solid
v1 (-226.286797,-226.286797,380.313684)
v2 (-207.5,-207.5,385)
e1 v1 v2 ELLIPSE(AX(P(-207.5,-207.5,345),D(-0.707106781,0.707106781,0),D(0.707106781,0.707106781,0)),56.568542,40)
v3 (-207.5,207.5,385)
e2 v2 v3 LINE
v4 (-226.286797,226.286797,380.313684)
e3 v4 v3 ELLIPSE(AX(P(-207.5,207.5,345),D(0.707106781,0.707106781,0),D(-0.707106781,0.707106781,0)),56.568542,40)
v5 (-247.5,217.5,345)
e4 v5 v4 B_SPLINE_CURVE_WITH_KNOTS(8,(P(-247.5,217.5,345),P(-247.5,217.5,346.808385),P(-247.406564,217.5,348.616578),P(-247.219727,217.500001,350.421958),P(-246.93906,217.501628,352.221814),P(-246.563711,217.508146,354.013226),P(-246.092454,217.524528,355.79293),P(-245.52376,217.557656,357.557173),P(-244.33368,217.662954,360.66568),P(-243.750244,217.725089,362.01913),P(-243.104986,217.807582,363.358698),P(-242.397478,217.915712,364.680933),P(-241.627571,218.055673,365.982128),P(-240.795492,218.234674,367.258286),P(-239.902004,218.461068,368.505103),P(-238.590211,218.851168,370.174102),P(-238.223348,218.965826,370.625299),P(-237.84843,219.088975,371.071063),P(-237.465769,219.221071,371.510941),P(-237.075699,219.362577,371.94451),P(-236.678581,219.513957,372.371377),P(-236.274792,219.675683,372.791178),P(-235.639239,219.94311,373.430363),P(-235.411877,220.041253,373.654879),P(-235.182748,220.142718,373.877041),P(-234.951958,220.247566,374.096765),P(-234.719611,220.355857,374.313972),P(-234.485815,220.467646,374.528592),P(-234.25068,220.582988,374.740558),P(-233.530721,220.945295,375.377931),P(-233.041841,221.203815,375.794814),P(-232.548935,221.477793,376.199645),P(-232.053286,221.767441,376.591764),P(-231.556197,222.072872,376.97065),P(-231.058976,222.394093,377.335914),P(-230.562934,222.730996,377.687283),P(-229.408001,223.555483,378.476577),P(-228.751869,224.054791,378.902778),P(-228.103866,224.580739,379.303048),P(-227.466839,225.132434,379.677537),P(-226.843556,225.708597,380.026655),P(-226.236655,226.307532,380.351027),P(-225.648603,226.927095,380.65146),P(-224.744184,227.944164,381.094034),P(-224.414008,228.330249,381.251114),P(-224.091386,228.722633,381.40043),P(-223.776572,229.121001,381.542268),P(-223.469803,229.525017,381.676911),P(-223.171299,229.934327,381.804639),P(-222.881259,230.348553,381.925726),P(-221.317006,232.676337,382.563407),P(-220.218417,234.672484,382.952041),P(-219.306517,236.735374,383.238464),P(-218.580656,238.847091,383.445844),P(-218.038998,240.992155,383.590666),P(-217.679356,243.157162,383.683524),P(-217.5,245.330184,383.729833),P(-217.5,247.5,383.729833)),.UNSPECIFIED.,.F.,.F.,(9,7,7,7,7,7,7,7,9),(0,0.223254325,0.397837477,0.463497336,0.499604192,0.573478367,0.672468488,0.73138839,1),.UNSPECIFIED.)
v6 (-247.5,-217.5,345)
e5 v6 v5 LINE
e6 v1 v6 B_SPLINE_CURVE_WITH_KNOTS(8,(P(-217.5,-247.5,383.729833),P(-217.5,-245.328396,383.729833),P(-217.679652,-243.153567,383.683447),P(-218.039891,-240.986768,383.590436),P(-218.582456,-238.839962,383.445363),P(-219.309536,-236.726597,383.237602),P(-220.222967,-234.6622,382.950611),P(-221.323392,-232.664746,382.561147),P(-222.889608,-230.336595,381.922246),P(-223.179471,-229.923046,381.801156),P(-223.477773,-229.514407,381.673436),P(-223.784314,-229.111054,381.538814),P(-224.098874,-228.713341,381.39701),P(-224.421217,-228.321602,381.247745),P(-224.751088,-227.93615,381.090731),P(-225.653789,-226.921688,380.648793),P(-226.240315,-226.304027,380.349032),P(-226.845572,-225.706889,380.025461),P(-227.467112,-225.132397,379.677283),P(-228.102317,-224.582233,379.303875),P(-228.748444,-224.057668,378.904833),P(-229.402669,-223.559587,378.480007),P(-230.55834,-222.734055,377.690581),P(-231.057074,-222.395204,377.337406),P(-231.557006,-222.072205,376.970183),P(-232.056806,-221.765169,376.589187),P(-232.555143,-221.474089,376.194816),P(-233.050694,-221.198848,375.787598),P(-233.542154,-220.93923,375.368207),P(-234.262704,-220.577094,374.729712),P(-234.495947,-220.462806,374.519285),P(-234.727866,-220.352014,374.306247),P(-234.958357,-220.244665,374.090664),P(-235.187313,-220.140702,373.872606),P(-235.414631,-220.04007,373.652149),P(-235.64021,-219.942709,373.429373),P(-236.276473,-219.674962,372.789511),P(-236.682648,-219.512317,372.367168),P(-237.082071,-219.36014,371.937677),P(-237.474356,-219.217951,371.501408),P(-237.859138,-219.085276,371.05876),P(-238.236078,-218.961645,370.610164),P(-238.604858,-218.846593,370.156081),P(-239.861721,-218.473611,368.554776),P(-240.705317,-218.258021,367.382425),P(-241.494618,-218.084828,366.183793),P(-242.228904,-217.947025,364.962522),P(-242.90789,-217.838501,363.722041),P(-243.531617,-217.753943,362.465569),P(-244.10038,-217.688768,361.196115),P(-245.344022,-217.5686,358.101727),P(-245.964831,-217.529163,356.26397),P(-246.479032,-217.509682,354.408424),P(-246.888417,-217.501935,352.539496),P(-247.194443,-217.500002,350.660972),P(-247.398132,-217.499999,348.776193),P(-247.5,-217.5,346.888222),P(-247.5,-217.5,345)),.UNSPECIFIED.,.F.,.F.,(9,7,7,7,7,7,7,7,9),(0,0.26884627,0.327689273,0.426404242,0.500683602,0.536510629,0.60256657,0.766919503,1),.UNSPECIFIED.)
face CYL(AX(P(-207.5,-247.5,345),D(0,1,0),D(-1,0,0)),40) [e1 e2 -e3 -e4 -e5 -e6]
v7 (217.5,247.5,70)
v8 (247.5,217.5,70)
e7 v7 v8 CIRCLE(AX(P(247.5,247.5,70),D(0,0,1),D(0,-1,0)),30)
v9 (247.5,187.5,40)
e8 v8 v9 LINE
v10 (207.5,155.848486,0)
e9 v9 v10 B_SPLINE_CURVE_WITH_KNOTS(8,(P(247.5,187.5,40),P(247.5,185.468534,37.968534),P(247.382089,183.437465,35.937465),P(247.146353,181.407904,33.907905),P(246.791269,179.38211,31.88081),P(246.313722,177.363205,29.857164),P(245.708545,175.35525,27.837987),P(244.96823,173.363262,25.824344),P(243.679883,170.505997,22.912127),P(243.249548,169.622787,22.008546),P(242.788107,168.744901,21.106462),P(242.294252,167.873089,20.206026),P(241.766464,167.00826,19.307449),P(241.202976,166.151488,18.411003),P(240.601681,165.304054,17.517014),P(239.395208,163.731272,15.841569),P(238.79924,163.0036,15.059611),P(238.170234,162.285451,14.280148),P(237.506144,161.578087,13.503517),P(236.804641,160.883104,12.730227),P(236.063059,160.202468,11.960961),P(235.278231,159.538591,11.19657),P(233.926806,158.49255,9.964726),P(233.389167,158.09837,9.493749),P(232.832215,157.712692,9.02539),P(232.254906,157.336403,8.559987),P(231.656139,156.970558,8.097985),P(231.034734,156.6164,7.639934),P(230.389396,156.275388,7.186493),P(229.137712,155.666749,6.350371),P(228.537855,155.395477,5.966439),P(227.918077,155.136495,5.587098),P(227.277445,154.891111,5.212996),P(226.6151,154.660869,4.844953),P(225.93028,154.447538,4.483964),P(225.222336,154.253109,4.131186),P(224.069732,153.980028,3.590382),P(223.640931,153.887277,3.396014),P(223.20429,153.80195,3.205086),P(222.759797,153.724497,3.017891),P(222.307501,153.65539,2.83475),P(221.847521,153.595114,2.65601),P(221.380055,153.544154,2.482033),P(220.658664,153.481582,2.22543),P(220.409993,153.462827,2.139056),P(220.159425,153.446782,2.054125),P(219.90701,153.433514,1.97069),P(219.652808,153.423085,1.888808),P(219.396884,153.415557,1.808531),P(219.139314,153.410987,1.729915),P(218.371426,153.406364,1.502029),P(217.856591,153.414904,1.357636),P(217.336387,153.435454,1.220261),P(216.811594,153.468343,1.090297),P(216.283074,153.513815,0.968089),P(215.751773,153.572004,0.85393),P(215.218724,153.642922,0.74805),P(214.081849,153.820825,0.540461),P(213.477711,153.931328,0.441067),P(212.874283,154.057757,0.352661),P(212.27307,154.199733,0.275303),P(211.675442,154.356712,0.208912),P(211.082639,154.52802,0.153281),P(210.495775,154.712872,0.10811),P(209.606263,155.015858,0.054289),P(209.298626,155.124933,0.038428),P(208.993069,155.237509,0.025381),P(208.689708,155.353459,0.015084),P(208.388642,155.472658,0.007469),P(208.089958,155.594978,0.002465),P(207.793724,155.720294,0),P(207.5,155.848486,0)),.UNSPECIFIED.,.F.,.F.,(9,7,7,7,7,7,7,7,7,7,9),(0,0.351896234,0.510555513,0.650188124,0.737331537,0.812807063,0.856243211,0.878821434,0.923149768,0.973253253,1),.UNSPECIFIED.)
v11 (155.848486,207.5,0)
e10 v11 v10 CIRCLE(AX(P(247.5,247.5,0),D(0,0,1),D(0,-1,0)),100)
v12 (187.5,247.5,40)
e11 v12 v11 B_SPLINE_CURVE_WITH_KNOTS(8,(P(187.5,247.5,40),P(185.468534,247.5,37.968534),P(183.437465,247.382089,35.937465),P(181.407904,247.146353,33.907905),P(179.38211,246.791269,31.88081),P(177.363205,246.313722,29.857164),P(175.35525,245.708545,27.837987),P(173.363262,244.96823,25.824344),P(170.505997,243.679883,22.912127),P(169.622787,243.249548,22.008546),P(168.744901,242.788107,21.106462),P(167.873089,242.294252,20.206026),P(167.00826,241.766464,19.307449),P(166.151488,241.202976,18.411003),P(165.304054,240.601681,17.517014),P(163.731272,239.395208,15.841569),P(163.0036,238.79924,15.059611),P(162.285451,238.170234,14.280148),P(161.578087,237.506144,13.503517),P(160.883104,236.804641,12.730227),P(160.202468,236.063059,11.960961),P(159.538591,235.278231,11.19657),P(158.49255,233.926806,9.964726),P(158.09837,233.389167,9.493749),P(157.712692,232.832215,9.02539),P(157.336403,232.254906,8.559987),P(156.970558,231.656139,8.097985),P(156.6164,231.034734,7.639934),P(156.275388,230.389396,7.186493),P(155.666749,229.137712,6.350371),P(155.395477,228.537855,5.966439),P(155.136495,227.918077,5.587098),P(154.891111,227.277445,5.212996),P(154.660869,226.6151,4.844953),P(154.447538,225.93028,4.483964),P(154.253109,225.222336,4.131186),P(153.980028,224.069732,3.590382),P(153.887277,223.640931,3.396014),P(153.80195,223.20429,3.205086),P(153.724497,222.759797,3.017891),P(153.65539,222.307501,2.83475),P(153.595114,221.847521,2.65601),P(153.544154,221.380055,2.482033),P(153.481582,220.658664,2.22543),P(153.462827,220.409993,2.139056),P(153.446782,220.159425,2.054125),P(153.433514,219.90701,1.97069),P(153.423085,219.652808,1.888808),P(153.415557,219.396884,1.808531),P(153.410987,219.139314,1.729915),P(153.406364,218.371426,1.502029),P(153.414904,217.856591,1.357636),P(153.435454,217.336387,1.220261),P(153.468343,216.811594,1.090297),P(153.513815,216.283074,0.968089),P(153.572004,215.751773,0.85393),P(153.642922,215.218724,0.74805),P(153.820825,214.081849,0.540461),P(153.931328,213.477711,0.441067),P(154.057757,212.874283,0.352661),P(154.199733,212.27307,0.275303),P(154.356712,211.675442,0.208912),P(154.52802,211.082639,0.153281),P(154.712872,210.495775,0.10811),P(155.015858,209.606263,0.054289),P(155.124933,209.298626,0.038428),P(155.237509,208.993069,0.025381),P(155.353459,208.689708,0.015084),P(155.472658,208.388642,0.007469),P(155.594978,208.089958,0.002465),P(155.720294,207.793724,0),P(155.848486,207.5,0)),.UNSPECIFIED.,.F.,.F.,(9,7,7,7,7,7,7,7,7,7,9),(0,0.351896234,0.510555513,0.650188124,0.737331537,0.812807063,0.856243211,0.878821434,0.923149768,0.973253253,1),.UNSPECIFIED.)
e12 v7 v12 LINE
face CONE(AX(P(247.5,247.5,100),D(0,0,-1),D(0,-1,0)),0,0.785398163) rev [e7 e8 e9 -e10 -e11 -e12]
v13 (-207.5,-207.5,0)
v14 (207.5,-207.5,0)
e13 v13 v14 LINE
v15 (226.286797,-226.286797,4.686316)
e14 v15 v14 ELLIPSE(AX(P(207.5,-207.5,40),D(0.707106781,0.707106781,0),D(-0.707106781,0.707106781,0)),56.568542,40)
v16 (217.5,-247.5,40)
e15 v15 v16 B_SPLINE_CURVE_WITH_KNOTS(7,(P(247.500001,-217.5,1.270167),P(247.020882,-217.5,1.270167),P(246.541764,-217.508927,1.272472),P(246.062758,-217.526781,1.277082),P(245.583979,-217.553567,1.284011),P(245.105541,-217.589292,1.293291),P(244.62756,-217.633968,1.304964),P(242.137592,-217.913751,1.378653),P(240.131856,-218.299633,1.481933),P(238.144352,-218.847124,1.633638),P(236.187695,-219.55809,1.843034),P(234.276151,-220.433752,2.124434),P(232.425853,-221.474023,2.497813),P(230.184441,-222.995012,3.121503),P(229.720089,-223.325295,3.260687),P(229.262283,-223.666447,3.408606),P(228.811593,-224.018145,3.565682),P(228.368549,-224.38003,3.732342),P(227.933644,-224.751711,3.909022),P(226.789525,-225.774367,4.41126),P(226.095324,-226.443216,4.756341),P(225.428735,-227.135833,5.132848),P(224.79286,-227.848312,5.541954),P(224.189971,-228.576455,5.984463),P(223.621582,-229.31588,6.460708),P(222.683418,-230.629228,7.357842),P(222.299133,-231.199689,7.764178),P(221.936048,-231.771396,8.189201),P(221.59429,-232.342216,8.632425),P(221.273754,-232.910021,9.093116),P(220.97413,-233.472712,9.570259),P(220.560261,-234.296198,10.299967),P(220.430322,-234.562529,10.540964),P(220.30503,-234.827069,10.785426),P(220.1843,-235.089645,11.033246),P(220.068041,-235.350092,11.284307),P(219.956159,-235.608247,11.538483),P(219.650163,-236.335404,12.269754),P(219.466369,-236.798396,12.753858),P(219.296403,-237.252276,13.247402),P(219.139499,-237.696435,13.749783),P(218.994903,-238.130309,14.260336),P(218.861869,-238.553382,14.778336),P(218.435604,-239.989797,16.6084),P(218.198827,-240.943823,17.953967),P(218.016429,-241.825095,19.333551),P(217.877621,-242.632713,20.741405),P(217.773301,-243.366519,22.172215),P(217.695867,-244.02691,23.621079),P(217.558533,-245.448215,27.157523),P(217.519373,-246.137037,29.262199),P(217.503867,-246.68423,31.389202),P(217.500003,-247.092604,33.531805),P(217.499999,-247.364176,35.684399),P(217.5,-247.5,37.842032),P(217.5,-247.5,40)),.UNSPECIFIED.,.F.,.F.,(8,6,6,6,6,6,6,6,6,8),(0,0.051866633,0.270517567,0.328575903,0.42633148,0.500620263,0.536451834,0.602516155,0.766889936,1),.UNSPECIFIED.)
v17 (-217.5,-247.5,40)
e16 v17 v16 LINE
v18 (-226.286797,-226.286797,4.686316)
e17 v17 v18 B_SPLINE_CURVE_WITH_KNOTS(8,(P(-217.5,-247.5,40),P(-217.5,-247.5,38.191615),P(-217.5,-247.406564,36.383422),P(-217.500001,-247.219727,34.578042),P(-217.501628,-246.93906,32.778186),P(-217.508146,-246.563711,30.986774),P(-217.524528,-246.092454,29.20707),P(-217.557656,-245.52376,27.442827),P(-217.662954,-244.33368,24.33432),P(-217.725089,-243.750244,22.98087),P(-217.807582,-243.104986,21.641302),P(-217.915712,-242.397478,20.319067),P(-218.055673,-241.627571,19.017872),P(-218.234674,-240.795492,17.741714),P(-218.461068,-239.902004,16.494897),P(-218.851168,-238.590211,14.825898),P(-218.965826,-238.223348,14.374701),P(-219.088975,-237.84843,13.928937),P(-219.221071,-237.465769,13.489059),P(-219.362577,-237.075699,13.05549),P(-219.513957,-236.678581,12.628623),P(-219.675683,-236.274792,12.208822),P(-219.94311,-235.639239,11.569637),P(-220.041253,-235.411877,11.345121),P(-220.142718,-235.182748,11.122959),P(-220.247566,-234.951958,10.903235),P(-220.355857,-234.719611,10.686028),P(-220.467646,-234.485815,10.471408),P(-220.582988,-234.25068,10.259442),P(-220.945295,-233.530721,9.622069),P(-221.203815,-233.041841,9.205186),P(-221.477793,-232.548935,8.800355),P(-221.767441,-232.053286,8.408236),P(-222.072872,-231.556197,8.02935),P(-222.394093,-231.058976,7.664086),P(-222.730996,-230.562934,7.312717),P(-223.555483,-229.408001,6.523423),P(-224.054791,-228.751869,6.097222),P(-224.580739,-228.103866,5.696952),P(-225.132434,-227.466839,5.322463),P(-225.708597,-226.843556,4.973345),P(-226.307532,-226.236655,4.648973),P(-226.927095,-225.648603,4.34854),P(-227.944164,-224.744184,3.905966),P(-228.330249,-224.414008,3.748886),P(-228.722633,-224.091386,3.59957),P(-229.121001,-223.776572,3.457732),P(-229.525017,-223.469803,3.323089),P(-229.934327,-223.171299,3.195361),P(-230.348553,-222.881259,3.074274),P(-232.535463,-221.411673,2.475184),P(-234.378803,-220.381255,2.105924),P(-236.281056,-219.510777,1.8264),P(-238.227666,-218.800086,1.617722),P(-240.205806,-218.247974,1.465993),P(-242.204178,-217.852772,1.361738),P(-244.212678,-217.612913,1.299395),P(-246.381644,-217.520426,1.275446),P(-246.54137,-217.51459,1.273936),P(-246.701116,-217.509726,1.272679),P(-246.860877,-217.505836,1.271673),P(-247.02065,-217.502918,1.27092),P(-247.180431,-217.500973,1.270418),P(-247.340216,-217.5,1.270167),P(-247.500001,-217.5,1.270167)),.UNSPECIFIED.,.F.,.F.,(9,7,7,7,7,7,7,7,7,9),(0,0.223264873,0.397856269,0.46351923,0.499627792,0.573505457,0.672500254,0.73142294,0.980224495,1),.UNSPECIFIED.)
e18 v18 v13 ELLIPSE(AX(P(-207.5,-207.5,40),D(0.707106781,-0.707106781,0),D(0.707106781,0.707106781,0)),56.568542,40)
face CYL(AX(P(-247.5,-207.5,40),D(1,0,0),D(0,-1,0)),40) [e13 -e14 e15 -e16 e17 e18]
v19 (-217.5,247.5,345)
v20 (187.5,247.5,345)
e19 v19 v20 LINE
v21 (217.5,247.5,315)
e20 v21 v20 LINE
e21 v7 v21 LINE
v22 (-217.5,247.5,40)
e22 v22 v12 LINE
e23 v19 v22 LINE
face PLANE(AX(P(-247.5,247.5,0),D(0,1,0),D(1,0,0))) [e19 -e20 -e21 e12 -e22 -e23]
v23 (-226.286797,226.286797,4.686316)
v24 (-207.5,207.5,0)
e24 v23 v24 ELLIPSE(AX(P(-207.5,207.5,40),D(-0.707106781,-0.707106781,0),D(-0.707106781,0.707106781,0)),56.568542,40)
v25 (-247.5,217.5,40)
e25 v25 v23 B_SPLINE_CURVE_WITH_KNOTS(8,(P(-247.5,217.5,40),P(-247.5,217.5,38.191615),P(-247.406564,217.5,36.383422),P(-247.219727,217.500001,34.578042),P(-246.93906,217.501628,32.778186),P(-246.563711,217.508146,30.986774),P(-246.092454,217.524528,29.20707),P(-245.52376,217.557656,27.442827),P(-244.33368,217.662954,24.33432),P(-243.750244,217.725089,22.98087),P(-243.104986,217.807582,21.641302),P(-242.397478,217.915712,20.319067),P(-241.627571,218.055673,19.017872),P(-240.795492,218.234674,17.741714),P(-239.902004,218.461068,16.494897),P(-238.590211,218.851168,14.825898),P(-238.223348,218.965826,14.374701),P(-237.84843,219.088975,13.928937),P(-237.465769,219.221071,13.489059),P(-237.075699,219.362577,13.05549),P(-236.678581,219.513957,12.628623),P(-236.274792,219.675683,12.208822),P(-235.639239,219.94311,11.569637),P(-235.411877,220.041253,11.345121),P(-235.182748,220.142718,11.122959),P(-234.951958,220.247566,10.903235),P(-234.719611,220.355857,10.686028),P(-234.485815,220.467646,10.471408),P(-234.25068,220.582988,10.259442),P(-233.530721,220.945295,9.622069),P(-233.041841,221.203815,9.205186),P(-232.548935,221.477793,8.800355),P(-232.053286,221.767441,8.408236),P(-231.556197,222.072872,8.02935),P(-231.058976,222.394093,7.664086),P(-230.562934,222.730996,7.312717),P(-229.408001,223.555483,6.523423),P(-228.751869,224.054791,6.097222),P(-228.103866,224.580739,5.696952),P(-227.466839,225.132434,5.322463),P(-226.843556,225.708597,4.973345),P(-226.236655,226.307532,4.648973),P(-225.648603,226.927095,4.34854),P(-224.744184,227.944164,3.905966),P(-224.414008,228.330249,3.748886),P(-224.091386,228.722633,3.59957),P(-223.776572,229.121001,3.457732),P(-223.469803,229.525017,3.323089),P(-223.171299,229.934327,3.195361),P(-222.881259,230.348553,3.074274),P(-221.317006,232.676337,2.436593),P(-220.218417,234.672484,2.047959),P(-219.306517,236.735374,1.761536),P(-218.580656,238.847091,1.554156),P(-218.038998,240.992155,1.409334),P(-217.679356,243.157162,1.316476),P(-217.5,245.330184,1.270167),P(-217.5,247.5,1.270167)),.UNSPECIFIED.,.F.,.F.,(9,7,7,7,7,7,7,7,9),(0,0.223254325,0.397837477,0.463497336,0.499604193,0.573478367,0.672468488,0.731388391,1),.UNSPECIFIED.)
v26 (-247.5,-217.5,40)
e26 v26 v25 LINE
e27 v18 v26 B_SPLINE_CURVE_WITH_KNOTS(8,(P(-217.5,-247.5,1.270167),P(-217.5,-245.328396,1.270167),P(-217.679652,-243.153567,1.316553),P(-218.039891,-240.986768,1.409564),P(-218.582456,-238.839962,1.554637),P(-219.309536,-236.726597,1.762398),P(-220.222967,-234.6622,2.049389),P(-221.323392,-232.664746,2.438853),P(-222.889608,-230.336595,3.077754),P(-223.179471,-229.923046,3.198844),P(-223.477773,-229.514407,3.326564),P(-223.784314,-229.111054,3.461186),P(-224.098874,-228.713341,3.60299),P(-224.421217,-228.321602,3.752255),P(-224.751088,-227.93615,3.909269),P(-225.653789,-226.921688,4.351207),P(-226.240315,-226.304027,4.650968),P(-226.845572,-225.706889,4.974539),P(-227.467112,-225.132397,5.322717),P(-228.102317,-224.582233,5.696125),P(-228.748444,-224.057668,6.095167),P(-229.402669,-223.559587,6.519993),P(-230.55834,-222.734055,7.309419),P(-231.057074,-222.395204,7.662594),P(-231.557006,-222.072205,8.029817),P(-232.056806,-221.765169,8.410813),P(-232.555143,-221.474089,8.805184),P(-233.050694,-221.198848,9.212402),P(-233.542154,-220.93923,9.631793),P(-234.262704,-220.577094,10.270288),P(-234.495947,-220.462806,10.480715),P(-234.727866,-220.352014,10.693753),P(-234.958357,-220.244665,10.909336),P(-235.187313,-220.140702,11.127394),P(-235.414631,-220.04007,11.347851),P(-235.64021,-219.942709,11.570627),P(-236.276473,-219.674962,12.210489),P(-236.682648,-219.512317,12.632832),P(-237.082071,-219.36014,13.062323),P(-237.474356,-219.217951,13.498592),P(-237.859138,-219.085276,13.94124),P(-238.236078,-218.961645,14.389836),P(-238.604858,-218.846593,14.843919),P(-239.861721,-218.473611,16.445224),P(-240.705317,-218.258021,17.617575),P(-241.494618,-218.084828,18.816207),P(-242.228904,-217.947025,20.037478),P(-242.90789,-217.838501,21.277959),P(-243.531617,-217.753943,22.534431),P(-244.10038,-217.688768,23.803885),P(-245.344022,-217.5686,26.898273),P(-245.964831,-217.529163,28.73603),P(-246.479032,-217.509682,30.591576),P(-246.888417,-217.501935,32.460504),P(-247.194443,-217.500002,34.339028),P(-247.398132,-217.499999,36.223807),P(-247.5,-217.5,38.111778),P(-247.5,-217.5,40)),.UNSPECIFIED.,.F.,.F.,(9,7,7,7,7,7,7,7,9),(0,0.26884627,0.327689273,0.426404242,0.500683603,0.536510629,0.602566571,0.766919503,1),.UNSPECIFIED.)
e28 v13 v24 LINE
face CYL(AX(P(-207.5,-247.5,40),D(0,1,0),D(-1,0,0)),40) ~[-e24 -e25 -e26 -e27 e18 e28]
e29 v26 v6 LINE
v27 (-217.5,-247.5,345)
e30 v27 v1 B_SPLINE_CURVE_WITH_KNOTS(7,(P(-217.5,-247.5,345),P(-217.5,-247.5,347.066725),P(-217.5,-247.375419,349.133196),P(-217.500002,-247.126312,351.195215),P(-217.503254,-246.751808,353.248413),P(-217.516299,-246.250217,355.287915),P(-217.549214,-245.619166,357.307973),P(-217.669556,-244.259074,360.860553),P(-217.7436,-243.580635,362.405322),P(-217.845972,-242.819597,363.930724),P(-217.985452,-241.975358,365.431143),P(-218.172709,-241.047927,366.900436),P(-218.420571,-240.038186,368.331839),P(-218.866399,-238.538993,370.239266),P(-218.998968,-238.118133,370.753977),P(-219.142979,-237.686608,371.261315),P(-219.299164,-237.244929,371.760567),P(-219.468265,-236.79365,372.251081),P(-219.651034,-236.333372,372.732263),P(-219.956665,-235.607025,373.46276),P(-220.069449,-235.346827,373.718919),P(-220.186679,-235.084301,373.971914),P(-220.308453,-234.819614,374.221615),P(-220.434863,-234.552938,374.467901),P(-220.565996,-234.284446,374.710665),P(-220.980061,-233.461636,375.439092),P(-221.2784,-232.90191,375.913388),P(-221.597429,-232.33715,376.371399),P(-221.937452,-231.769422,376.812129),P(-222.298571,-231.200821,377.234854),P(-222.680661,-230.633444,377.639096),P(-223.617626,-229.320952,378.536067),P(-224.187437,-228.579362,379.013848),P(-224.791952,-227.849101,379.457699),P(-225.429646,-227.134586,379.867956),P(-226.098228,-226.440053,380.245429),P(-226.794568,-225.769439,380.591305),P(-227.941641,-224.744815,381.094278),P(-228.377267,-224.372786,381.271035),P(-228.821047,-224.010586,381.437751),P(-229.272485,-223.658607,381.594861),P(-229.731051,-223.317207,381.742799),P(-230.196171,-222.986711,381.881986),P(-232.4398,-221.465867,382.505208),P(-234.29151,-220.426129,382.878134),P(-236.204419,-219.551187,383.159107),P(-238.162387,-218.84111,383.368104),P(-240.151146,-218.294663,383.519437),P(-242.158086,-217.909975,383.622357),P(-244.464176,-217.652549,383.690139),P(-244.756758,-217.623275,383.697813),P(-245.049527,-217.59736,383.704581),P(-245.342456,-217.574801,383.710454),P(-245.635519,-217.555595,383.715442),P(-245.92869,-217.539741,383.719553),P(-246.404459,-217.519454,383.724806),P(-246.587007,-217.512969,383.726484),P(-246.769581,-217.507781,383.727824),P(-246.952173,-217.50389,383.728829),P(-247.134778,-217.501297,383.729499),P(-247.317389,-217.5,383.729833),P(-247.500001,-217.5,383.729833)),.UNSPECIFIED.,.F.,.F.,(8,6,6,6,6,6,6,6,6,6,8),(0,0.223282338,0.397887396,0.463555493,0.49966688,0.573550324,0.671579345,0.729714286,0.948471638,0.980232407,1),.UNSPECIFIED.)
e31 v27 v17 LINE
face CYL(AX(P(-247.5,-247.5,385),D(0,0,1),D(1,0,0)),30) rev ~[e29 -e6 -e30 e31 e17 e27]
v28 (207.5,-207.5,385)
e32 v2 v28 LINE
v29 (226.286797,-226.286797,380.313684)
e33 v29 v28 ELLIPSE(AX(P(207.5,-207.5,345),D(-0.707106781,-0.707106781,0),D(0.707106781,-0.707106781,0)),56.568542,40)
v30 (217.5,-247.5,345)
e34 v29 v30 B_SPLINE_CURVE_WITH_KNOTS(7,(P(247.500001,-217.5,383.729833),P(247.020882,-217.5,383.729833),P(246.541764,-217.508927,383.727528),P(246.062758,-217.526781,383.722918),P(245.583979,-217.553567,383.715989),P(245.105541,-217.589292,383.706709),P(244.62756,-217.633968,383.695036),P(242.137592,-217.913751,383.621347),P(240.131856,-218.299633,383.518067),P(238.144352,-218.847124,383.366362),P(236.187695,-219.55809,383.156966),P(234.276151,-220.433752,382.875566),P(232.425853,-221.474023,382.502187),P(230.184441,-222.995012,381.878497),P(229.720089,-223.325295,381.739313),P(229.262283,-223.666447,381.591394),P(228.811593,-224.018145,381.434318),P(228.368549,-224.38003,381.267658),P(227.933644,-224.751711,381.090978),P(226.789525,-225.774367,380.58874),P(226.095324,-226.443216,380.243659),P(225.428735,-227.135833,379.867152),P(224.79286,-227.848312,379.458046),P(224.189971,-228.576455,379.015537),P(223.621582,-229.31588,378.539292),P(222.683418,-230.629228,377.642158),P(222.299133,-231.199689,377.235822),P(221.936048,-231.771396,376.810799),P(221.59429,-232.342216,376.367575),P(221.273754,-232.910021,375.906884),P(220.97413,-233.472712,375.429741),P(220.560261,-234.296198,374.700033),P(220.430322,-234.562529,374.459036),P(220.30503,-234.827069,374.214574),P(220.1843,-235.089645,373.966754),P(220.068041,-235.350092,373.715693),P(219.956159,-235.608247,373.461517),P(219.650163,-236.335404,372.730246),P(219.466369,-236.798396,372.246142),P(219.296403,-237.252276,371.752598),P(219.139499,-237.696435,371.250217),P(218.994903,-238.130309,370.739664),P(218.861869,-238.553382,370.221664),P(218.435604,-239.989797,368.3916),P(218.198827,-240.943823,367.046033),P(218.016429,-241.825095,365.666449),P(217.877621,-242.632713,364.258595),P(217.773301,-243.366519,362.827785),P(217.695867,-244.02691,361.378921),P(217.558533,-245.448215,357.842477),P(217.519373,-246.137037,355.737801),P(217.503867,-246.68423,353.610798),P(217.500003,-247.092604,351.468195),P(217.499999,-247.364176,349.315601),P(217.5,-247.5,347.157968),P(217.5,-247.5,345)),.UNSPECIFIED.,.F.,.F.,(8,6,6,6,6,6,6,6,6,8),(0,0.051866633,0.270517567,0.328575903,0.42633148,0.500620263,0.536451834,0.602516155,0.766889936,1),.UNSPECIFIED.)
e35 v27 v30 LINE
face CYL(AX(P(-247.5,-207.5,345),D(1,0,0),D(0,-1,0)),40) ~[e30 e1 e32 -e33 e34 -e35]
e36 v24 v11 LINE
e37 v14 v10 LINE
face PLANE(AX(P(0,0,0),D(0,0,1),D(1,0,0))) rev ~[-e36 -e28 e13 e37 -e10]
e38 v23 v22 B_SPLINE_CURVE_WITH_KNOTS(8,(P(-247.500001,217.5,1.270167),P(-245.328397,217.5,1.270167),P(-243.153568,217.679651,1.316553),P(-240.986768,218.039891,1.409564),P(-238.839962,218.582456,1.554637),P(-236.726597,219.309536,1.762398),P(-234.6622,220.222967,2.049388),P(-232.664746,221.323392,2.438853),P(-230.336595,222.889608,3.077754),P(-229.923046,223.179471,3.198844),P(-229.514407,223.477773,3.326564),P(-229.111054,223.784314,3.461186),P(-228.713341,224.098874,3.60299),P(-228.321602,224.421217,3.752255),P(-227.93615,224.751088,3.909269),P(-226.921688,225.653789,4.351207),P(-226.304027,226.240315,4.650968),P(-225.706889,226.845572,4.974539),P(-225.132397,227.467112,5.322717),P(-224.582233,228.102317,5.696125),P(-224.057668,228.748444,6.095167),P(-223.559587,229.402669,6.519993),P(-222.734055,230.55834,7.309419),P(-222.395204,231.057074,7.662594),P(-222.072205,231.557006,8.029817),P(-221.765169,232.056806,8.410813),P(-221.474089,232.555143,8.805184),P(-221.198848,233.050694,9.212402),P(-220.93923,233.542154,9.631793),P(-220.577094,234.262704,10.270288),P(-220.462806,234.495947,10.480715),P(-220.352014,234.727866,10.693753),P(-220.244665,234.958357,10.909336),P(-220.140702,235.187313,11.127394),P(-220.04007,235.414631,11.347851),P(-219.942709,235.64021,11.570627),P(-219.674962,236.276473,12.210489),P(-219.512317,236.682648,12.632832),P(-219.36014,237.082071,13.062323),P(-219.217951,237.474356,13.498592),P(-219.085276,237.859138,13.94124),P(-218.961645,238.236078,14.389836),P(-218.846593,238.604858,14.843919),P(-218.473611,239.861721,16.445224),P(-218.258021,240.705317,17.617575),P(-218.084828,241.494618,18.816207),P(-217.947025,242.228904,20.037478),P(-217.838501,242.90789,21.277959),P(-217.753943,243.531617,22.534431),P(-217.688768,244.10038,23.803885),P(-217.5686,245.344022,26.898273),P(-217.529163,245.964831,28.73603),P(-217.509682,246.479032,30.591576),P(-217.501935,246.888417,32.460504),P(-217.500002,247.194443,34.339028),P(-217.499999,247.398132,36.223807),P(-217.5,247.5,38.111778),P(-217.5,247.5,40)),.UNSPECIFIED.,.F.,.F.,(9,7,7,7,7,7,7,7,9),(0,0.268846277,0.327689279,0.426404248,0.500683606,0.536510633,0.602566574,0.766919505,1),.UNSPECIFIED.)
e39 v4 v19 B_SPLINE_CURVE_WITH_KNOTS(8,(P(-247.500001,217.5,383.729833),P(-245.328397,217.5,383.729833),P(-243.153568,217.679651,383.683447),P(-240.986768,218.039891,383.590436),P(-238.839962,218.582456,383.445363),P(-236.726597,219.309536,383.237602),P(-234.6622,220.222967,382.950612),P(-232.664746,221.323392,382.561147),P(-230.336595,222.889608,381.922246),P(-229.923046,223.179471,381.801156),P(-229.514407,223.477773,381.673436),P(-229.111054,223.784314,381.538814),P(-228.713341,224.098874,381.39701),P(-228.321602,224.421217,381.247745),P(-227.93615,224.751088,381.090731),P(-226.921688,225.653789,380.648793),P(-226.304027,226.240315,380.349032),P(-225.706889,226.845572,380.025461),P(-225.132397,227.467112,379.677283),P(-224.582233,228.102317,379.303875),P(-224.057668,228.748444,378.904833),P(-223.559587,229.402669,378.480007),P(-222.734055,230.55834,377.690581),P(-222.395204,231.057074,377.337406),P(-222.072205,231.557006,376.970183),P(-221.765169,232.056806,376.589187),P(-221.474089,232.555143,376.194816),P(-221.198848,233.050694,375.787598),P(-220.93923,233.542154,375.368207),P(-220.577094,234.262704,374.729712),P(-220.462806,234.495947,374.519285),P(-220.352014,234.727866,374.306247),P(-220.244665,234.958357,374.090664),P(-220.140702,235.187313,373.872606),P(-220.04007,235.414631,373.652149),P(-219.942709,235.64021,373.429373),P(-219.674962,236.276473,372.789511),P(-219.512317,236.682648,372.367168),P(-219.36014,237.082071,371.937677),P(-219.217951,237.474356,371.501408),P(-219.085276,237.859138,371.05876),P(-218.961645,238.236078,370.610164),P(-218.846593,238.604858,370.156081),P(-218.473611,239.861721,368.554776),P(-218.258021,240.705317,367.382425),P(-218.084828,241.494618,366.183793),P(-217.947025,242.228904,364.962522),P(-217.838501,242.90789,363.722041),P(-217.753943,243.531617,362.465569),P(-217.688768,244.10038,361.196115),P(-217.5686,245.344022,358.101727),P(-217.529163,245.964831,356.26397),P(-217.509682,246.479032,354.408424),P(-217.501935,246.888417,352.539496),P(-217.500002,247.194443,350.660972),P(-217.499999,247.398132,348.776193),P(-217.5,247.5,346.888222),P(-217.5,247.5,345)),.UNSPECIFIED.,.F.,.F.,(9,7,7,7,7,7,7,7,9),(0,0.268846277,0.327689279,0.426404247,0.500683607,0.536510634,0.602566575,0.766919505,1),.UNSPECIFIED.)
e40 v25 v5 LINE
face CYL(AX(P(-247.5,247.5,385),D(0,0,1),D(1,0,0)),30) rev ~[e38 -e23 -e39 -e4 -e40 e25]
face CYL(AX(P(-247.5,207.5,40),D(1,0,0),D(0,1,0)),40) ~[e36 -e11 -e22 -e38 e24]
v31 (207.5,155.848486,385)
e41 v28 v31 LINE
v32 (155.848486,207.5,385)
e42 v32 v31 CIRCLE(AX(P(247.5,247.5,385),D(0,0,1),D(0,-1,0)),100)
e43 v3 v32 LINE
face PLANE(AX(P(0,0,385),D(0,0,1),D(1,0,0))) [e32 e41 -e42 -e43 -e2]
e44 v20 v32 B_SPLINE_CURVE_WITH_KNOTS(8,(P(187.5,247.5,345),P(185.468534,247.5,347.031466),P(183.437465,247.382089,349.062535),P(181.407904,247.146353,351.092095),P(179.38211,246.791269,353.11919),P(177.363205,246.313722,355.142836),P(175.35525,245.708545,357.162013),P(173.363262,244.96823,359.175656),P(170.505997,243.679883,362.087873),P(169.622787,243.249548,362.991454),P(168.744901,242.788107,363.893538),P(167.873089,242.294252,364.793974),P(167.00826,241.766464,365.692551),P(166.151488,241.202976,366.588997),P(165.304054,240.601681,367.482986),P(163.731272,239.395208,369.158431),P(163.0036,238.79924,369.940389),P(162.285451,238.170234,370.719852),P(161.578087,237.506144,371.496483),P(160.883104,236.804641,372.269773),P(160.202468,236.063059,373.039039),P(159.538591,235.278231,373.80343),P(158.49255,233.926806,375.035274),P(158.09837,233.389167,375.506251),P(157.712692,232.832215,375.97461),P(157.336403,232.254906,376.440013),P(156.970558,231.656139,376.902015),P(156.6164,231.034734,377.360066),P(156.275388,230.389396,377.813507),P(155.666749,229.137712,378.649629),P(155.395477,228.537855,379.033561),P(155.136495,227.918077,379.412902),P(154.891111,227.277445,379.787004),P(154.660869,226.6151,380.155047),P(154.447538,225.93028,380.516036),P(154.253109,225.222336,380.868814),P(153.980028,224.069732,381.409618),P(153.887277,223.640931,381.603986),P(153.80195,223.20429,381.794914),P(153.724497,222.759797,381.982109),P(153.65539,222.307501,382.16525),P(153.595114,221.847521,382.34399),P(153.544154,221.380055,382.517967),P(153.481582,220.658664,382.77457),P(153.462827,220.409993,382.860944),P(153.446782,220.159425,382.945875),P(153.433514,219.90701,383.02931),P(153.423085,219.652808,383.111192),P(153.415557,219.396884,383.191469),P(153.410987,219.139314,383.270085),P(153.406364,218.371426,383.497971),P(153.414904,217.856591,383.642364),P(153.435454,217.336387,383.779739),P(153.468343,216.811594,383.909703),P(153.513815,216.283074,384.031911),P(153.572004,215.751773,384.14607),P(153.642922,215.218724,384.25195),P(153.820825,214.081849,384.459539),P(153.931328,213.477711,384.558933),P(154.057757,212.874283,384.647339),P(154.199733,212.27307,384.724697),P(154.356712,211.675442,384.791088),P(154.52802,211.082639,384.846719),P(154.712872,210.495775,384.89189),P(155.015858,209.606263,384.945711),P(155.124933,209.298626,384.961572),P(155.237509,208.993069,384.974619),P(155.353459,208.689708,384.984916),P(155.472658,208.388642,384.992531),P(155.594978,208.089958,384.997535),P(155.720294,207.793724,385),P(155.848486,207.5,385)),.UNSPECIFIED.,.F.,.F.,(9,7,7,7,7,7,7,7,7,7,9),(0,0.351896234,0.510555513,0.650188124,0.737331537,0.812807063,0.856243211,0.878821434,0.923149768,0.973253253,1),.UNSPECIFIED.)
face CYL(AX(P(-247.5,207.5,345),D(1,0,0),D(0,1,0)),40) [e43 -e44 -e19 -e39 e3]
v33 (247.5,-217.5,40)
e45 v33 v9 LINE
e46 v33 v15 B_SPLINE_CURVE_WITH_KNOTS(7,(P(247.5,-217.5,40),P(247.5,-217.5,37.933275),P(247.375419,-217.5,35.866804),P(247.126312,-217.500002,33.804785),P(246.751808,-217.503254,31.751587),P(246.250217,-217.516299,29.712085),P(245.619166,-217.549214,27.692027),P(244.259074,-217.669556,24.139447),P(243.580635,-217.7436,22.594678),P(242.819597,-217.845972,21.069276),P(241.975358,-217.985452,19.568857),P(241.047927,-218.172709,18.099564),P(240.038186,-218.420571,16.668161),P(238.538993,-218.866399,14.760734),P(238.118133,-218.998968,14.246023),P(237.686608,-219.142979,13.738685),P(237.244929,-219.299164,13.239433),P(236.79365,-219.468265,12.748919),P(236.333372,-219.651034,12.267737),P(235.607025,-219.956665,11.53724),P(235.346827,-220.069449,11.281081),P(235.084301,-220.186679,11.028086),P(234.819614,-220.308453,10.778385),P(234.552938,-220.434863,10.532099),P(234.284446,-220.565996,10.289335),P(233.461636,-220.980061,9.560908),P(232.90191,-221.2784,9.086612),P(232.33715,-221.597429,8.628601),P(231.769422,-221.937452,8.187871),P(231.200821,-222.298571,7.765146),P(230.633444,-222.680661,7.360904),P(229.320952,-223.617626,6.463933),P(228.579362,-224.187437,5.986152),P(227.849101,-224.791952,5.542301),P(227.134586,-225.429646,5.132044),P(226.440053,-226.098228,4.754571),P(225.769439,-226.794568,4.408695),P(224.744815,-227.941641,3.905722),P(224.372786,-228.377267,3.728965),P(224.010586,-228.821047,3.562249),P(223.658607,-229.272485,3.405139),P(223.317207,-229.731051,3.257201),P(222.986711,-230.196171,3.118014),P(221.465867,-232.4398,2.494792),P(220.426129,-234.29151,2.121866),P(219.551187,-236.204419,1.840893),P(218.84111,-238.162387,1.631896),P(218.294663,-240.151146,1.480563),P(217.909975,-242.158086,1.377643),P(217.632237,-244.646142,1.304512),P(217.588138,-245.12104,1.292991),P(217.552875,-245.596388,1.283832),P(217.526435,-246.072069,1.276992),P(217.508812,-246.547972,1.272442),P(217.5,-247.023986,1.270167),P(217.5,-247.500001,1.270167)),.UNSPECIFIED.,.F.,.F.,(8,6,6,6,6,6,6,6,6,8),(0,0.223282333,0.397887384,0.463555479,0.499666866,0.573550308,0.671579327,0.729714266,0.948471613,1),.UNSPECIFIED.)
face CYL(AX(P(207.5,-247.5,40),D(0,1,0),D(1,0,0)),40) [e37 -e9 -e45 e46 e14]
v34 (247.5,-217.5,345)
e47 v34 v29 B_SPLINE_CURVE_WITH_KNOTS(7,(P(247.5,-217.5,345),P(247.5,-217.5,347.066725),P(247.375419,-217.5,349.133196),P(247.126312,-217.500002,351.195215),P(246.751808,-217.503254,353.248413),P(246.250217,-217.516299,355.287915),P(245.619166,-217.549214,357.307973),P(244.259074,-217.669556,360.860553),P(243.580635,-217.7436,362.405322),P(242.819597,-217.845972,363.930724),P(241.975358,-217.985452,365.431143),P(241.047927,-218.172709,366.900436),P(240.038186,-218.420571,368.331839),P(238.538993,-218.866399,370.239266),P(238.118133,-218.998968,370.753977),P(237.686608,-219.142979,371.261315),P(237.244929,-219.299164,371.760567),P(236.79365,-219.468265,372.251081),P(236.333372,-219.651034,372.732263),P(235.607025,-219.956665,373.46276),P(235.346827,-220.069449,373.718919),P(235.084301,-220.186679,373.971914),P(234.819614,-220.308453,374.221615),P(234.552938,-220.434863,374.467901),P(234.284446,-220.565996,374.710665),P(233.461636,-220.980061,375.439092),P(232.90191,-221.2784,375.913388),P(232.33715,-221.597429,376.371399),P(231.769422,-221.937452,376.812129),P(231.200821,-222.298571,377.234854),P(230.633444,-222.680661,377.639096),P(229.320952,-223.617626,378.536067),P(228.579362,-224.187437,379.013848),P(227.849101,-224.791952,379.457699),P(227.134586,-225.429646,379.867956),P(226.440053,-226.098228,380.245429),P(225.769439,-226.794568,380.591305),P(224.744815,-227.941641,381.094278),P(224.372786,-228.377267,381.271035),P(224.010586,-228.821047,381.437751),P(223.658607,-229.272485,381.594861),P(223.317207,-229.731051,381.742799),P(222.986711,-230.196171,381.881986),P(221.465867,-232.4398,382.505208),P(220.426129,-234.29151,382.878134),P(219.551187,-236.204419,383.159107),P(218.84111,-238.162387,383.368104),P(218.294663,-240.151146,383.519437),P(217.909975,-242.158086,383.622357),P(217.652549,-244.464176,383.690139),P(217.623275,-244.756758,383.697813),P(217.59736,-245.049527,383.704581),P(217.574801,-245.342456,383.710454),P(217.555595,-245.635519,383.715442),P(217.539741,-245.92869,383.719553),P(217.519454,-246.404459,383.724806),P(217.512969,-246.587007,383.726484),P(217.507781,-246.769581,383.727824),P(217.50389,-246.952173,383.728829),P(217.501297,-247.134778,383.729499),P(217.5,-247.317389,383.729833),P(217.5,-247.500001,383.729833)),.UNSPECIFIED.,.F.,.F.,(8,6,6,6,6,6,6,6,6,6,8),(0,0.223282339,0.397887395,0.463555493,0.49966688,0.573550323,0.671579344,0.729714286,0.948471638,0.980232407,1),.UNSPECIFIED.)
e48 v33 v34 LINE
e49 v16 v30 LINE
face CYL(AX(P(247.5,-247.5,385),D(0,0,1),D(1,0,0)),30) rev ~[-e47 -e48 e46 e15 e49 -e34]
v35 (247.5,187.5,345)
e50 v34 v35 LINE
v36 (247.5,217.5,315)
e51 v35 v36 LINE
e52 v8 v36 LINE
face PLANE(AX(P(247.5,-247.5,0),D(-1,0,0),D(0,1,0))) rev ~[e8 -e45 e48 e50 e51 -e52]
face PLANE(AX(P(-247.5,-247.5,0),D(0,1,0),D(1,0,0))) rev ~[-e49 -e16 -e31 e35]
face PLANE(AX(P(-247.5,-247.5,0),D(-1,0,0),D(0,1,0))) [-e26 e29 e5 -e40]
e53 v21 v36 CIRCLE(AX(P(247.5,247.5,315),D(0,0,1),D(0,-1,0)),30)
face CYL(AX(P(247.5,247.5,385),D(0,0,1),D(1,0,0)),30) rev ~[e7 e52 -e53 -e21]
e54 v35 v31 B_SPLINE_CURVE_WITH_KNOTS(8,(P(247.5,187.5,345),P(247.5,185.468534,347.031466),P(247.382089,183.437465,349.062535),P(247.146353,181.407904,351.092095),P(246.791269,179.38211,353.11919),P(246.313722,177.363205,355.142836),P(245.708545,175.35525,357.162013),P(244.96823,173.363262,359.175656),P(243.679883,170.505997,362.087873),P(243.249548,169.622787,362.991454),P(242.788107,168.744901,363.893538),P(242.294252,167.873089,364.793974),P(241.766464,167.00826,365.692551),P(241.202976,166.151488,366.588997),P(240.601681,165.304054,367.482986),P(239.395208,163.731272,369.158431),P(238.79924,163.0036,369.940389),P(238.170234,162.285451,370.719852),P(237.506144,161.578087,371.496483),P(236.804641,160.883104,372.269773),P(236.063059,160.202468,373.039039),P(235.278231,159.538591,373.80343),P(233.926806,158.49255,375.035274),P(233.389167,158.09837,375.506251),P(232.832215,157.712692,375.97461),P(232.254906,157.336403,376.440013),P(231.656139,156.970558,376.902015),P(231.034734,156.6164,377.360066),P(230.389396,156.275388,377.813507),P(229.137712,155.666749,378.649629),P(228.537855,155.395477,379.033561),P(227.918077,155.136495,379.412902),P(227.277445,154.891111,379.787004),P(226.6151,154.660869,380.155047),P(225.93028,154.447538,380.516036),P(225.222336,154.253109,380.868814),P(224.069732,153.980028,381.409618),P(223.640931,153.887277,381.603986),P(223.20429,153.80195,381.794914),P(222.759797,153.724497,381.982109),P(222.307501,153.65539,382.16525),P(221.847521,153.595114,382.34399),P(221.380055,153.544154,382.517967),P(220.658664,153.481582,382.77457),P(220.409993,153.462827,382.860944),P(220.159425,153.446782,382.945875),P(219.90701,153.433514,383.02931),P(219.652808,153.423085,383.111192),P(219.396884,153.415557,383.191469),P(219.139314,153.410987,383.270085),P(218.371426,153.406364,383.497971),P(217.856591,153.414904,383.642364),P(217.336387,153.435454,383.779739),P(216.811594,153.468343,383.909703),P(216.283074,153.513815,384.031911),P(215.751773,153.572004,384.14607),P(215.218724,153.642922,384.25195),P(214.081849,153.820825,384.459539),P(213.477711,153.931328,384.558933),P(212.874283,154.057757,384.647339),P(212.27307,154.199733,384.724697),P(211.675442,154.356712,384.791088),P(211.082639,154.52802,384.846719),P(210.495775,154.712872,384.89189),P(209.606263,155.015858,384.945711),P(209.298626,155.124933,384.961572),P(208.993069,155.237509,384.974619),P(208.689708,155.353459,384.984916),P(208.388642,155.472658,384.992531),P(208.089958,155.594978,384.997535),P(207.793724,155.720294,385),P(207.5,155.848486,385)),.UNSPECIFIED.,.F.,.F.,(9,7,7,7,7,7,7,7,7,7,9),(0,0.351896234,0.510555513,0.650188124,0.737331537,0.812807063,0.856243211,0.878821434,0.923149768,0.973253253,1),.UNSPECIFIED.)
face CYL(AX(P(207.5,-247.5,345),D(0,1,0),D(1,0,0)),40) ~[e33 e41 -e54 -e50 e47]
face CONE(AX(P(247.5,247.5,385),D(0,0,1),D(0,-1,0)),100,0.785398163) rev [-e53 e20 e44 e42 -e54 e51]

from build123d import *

# Parameters (mm, degrees)
F0_W     = 495
F0_H     = 495
F1_DEPTH = 385
F2_R     = 40
F5_R     = 30
F6_DEPTH = 385.0010001


with BuildPart() as f1:
    # F0 (on Top) → F1 (new body)
    with BuildSketch(Plane.XY):
        Rectangle(F0_W, F0_H)
    extrude(amount=F1_DEPTH)

    # F2
    f2_edges = [f1.edges().sort_by_distance(p)[0] for p in [
        (-247.5, 0, 385),
        (0, -247.5, 385),
        (247.5, 0, 385),
        (0, 247.5, 385),
        (247.5, 0, 0),
        (0, -247.5, 0),
        (-247.5, 0, 0),
        (0, 247.5, 0),
    ]]
    fillet(f2_edges, radius=F2_R)

    # F3 (on face) → F4 (revolve, cut)
    with BuildSketch(Plane.YZ.offset(247.5)):
        Polygon((147.5, 385), (247.5, 285), (247.5, 385), align=None)
        Polygon((247.5, 52.9406964779), (247.5, 100), (147.5, 0), (247.5, 0), align=None)
    revolve(axis=Axis((247.5, 247.5, 295.5484241247), (0, 0, 1)), mode=Mode.SUBTRACT)

    # F5 (on face) + F1_face2 (on face) → F6 (cut, through all)
    with BuildSketch(Plane.XY.offset(385)):
        with Locations((247.5, 247.5)):
            Circle(F5_R)
        with Locations((-247.5, 247.5)):
            Circle(F5_R)
        with Locations((-247.5, -247.5)):
            Circle(F5_R)
        with Locations((247.5, -247.5)):
            Circle(F5_R)
    with BuildSketch(Plane(origin=(-1.8452724724, -1.8452724724, 0), x_dir=(1, 0, 0), z_dir=(0, 0, -1))):
        with BuildLine():
            Line((209.3452724724, 205.6547275276), (-205.6547275276, 205.6547275276))
            Line((-205.6547275276, 205.6547275276), (-205.6547275276, -209.3452724724))
            Line((-205.6547275276, -209.3452724724), (157.6937585733, -209.3452724724))
            ThreePointArc((157.6937585733, -209.3452724724), (178.6345943538, -178.6345943538), (209.3452724724, -157.6937585733))
            Line((209.3452724724, -157.6937585733), (209.3452724724, 205.6547275276))
        make_face()
    extrude(amount=-F6_DEPTH, dir=(0, 0, 1), mode=Mode.SUBTRACT)


solid = f1.part
